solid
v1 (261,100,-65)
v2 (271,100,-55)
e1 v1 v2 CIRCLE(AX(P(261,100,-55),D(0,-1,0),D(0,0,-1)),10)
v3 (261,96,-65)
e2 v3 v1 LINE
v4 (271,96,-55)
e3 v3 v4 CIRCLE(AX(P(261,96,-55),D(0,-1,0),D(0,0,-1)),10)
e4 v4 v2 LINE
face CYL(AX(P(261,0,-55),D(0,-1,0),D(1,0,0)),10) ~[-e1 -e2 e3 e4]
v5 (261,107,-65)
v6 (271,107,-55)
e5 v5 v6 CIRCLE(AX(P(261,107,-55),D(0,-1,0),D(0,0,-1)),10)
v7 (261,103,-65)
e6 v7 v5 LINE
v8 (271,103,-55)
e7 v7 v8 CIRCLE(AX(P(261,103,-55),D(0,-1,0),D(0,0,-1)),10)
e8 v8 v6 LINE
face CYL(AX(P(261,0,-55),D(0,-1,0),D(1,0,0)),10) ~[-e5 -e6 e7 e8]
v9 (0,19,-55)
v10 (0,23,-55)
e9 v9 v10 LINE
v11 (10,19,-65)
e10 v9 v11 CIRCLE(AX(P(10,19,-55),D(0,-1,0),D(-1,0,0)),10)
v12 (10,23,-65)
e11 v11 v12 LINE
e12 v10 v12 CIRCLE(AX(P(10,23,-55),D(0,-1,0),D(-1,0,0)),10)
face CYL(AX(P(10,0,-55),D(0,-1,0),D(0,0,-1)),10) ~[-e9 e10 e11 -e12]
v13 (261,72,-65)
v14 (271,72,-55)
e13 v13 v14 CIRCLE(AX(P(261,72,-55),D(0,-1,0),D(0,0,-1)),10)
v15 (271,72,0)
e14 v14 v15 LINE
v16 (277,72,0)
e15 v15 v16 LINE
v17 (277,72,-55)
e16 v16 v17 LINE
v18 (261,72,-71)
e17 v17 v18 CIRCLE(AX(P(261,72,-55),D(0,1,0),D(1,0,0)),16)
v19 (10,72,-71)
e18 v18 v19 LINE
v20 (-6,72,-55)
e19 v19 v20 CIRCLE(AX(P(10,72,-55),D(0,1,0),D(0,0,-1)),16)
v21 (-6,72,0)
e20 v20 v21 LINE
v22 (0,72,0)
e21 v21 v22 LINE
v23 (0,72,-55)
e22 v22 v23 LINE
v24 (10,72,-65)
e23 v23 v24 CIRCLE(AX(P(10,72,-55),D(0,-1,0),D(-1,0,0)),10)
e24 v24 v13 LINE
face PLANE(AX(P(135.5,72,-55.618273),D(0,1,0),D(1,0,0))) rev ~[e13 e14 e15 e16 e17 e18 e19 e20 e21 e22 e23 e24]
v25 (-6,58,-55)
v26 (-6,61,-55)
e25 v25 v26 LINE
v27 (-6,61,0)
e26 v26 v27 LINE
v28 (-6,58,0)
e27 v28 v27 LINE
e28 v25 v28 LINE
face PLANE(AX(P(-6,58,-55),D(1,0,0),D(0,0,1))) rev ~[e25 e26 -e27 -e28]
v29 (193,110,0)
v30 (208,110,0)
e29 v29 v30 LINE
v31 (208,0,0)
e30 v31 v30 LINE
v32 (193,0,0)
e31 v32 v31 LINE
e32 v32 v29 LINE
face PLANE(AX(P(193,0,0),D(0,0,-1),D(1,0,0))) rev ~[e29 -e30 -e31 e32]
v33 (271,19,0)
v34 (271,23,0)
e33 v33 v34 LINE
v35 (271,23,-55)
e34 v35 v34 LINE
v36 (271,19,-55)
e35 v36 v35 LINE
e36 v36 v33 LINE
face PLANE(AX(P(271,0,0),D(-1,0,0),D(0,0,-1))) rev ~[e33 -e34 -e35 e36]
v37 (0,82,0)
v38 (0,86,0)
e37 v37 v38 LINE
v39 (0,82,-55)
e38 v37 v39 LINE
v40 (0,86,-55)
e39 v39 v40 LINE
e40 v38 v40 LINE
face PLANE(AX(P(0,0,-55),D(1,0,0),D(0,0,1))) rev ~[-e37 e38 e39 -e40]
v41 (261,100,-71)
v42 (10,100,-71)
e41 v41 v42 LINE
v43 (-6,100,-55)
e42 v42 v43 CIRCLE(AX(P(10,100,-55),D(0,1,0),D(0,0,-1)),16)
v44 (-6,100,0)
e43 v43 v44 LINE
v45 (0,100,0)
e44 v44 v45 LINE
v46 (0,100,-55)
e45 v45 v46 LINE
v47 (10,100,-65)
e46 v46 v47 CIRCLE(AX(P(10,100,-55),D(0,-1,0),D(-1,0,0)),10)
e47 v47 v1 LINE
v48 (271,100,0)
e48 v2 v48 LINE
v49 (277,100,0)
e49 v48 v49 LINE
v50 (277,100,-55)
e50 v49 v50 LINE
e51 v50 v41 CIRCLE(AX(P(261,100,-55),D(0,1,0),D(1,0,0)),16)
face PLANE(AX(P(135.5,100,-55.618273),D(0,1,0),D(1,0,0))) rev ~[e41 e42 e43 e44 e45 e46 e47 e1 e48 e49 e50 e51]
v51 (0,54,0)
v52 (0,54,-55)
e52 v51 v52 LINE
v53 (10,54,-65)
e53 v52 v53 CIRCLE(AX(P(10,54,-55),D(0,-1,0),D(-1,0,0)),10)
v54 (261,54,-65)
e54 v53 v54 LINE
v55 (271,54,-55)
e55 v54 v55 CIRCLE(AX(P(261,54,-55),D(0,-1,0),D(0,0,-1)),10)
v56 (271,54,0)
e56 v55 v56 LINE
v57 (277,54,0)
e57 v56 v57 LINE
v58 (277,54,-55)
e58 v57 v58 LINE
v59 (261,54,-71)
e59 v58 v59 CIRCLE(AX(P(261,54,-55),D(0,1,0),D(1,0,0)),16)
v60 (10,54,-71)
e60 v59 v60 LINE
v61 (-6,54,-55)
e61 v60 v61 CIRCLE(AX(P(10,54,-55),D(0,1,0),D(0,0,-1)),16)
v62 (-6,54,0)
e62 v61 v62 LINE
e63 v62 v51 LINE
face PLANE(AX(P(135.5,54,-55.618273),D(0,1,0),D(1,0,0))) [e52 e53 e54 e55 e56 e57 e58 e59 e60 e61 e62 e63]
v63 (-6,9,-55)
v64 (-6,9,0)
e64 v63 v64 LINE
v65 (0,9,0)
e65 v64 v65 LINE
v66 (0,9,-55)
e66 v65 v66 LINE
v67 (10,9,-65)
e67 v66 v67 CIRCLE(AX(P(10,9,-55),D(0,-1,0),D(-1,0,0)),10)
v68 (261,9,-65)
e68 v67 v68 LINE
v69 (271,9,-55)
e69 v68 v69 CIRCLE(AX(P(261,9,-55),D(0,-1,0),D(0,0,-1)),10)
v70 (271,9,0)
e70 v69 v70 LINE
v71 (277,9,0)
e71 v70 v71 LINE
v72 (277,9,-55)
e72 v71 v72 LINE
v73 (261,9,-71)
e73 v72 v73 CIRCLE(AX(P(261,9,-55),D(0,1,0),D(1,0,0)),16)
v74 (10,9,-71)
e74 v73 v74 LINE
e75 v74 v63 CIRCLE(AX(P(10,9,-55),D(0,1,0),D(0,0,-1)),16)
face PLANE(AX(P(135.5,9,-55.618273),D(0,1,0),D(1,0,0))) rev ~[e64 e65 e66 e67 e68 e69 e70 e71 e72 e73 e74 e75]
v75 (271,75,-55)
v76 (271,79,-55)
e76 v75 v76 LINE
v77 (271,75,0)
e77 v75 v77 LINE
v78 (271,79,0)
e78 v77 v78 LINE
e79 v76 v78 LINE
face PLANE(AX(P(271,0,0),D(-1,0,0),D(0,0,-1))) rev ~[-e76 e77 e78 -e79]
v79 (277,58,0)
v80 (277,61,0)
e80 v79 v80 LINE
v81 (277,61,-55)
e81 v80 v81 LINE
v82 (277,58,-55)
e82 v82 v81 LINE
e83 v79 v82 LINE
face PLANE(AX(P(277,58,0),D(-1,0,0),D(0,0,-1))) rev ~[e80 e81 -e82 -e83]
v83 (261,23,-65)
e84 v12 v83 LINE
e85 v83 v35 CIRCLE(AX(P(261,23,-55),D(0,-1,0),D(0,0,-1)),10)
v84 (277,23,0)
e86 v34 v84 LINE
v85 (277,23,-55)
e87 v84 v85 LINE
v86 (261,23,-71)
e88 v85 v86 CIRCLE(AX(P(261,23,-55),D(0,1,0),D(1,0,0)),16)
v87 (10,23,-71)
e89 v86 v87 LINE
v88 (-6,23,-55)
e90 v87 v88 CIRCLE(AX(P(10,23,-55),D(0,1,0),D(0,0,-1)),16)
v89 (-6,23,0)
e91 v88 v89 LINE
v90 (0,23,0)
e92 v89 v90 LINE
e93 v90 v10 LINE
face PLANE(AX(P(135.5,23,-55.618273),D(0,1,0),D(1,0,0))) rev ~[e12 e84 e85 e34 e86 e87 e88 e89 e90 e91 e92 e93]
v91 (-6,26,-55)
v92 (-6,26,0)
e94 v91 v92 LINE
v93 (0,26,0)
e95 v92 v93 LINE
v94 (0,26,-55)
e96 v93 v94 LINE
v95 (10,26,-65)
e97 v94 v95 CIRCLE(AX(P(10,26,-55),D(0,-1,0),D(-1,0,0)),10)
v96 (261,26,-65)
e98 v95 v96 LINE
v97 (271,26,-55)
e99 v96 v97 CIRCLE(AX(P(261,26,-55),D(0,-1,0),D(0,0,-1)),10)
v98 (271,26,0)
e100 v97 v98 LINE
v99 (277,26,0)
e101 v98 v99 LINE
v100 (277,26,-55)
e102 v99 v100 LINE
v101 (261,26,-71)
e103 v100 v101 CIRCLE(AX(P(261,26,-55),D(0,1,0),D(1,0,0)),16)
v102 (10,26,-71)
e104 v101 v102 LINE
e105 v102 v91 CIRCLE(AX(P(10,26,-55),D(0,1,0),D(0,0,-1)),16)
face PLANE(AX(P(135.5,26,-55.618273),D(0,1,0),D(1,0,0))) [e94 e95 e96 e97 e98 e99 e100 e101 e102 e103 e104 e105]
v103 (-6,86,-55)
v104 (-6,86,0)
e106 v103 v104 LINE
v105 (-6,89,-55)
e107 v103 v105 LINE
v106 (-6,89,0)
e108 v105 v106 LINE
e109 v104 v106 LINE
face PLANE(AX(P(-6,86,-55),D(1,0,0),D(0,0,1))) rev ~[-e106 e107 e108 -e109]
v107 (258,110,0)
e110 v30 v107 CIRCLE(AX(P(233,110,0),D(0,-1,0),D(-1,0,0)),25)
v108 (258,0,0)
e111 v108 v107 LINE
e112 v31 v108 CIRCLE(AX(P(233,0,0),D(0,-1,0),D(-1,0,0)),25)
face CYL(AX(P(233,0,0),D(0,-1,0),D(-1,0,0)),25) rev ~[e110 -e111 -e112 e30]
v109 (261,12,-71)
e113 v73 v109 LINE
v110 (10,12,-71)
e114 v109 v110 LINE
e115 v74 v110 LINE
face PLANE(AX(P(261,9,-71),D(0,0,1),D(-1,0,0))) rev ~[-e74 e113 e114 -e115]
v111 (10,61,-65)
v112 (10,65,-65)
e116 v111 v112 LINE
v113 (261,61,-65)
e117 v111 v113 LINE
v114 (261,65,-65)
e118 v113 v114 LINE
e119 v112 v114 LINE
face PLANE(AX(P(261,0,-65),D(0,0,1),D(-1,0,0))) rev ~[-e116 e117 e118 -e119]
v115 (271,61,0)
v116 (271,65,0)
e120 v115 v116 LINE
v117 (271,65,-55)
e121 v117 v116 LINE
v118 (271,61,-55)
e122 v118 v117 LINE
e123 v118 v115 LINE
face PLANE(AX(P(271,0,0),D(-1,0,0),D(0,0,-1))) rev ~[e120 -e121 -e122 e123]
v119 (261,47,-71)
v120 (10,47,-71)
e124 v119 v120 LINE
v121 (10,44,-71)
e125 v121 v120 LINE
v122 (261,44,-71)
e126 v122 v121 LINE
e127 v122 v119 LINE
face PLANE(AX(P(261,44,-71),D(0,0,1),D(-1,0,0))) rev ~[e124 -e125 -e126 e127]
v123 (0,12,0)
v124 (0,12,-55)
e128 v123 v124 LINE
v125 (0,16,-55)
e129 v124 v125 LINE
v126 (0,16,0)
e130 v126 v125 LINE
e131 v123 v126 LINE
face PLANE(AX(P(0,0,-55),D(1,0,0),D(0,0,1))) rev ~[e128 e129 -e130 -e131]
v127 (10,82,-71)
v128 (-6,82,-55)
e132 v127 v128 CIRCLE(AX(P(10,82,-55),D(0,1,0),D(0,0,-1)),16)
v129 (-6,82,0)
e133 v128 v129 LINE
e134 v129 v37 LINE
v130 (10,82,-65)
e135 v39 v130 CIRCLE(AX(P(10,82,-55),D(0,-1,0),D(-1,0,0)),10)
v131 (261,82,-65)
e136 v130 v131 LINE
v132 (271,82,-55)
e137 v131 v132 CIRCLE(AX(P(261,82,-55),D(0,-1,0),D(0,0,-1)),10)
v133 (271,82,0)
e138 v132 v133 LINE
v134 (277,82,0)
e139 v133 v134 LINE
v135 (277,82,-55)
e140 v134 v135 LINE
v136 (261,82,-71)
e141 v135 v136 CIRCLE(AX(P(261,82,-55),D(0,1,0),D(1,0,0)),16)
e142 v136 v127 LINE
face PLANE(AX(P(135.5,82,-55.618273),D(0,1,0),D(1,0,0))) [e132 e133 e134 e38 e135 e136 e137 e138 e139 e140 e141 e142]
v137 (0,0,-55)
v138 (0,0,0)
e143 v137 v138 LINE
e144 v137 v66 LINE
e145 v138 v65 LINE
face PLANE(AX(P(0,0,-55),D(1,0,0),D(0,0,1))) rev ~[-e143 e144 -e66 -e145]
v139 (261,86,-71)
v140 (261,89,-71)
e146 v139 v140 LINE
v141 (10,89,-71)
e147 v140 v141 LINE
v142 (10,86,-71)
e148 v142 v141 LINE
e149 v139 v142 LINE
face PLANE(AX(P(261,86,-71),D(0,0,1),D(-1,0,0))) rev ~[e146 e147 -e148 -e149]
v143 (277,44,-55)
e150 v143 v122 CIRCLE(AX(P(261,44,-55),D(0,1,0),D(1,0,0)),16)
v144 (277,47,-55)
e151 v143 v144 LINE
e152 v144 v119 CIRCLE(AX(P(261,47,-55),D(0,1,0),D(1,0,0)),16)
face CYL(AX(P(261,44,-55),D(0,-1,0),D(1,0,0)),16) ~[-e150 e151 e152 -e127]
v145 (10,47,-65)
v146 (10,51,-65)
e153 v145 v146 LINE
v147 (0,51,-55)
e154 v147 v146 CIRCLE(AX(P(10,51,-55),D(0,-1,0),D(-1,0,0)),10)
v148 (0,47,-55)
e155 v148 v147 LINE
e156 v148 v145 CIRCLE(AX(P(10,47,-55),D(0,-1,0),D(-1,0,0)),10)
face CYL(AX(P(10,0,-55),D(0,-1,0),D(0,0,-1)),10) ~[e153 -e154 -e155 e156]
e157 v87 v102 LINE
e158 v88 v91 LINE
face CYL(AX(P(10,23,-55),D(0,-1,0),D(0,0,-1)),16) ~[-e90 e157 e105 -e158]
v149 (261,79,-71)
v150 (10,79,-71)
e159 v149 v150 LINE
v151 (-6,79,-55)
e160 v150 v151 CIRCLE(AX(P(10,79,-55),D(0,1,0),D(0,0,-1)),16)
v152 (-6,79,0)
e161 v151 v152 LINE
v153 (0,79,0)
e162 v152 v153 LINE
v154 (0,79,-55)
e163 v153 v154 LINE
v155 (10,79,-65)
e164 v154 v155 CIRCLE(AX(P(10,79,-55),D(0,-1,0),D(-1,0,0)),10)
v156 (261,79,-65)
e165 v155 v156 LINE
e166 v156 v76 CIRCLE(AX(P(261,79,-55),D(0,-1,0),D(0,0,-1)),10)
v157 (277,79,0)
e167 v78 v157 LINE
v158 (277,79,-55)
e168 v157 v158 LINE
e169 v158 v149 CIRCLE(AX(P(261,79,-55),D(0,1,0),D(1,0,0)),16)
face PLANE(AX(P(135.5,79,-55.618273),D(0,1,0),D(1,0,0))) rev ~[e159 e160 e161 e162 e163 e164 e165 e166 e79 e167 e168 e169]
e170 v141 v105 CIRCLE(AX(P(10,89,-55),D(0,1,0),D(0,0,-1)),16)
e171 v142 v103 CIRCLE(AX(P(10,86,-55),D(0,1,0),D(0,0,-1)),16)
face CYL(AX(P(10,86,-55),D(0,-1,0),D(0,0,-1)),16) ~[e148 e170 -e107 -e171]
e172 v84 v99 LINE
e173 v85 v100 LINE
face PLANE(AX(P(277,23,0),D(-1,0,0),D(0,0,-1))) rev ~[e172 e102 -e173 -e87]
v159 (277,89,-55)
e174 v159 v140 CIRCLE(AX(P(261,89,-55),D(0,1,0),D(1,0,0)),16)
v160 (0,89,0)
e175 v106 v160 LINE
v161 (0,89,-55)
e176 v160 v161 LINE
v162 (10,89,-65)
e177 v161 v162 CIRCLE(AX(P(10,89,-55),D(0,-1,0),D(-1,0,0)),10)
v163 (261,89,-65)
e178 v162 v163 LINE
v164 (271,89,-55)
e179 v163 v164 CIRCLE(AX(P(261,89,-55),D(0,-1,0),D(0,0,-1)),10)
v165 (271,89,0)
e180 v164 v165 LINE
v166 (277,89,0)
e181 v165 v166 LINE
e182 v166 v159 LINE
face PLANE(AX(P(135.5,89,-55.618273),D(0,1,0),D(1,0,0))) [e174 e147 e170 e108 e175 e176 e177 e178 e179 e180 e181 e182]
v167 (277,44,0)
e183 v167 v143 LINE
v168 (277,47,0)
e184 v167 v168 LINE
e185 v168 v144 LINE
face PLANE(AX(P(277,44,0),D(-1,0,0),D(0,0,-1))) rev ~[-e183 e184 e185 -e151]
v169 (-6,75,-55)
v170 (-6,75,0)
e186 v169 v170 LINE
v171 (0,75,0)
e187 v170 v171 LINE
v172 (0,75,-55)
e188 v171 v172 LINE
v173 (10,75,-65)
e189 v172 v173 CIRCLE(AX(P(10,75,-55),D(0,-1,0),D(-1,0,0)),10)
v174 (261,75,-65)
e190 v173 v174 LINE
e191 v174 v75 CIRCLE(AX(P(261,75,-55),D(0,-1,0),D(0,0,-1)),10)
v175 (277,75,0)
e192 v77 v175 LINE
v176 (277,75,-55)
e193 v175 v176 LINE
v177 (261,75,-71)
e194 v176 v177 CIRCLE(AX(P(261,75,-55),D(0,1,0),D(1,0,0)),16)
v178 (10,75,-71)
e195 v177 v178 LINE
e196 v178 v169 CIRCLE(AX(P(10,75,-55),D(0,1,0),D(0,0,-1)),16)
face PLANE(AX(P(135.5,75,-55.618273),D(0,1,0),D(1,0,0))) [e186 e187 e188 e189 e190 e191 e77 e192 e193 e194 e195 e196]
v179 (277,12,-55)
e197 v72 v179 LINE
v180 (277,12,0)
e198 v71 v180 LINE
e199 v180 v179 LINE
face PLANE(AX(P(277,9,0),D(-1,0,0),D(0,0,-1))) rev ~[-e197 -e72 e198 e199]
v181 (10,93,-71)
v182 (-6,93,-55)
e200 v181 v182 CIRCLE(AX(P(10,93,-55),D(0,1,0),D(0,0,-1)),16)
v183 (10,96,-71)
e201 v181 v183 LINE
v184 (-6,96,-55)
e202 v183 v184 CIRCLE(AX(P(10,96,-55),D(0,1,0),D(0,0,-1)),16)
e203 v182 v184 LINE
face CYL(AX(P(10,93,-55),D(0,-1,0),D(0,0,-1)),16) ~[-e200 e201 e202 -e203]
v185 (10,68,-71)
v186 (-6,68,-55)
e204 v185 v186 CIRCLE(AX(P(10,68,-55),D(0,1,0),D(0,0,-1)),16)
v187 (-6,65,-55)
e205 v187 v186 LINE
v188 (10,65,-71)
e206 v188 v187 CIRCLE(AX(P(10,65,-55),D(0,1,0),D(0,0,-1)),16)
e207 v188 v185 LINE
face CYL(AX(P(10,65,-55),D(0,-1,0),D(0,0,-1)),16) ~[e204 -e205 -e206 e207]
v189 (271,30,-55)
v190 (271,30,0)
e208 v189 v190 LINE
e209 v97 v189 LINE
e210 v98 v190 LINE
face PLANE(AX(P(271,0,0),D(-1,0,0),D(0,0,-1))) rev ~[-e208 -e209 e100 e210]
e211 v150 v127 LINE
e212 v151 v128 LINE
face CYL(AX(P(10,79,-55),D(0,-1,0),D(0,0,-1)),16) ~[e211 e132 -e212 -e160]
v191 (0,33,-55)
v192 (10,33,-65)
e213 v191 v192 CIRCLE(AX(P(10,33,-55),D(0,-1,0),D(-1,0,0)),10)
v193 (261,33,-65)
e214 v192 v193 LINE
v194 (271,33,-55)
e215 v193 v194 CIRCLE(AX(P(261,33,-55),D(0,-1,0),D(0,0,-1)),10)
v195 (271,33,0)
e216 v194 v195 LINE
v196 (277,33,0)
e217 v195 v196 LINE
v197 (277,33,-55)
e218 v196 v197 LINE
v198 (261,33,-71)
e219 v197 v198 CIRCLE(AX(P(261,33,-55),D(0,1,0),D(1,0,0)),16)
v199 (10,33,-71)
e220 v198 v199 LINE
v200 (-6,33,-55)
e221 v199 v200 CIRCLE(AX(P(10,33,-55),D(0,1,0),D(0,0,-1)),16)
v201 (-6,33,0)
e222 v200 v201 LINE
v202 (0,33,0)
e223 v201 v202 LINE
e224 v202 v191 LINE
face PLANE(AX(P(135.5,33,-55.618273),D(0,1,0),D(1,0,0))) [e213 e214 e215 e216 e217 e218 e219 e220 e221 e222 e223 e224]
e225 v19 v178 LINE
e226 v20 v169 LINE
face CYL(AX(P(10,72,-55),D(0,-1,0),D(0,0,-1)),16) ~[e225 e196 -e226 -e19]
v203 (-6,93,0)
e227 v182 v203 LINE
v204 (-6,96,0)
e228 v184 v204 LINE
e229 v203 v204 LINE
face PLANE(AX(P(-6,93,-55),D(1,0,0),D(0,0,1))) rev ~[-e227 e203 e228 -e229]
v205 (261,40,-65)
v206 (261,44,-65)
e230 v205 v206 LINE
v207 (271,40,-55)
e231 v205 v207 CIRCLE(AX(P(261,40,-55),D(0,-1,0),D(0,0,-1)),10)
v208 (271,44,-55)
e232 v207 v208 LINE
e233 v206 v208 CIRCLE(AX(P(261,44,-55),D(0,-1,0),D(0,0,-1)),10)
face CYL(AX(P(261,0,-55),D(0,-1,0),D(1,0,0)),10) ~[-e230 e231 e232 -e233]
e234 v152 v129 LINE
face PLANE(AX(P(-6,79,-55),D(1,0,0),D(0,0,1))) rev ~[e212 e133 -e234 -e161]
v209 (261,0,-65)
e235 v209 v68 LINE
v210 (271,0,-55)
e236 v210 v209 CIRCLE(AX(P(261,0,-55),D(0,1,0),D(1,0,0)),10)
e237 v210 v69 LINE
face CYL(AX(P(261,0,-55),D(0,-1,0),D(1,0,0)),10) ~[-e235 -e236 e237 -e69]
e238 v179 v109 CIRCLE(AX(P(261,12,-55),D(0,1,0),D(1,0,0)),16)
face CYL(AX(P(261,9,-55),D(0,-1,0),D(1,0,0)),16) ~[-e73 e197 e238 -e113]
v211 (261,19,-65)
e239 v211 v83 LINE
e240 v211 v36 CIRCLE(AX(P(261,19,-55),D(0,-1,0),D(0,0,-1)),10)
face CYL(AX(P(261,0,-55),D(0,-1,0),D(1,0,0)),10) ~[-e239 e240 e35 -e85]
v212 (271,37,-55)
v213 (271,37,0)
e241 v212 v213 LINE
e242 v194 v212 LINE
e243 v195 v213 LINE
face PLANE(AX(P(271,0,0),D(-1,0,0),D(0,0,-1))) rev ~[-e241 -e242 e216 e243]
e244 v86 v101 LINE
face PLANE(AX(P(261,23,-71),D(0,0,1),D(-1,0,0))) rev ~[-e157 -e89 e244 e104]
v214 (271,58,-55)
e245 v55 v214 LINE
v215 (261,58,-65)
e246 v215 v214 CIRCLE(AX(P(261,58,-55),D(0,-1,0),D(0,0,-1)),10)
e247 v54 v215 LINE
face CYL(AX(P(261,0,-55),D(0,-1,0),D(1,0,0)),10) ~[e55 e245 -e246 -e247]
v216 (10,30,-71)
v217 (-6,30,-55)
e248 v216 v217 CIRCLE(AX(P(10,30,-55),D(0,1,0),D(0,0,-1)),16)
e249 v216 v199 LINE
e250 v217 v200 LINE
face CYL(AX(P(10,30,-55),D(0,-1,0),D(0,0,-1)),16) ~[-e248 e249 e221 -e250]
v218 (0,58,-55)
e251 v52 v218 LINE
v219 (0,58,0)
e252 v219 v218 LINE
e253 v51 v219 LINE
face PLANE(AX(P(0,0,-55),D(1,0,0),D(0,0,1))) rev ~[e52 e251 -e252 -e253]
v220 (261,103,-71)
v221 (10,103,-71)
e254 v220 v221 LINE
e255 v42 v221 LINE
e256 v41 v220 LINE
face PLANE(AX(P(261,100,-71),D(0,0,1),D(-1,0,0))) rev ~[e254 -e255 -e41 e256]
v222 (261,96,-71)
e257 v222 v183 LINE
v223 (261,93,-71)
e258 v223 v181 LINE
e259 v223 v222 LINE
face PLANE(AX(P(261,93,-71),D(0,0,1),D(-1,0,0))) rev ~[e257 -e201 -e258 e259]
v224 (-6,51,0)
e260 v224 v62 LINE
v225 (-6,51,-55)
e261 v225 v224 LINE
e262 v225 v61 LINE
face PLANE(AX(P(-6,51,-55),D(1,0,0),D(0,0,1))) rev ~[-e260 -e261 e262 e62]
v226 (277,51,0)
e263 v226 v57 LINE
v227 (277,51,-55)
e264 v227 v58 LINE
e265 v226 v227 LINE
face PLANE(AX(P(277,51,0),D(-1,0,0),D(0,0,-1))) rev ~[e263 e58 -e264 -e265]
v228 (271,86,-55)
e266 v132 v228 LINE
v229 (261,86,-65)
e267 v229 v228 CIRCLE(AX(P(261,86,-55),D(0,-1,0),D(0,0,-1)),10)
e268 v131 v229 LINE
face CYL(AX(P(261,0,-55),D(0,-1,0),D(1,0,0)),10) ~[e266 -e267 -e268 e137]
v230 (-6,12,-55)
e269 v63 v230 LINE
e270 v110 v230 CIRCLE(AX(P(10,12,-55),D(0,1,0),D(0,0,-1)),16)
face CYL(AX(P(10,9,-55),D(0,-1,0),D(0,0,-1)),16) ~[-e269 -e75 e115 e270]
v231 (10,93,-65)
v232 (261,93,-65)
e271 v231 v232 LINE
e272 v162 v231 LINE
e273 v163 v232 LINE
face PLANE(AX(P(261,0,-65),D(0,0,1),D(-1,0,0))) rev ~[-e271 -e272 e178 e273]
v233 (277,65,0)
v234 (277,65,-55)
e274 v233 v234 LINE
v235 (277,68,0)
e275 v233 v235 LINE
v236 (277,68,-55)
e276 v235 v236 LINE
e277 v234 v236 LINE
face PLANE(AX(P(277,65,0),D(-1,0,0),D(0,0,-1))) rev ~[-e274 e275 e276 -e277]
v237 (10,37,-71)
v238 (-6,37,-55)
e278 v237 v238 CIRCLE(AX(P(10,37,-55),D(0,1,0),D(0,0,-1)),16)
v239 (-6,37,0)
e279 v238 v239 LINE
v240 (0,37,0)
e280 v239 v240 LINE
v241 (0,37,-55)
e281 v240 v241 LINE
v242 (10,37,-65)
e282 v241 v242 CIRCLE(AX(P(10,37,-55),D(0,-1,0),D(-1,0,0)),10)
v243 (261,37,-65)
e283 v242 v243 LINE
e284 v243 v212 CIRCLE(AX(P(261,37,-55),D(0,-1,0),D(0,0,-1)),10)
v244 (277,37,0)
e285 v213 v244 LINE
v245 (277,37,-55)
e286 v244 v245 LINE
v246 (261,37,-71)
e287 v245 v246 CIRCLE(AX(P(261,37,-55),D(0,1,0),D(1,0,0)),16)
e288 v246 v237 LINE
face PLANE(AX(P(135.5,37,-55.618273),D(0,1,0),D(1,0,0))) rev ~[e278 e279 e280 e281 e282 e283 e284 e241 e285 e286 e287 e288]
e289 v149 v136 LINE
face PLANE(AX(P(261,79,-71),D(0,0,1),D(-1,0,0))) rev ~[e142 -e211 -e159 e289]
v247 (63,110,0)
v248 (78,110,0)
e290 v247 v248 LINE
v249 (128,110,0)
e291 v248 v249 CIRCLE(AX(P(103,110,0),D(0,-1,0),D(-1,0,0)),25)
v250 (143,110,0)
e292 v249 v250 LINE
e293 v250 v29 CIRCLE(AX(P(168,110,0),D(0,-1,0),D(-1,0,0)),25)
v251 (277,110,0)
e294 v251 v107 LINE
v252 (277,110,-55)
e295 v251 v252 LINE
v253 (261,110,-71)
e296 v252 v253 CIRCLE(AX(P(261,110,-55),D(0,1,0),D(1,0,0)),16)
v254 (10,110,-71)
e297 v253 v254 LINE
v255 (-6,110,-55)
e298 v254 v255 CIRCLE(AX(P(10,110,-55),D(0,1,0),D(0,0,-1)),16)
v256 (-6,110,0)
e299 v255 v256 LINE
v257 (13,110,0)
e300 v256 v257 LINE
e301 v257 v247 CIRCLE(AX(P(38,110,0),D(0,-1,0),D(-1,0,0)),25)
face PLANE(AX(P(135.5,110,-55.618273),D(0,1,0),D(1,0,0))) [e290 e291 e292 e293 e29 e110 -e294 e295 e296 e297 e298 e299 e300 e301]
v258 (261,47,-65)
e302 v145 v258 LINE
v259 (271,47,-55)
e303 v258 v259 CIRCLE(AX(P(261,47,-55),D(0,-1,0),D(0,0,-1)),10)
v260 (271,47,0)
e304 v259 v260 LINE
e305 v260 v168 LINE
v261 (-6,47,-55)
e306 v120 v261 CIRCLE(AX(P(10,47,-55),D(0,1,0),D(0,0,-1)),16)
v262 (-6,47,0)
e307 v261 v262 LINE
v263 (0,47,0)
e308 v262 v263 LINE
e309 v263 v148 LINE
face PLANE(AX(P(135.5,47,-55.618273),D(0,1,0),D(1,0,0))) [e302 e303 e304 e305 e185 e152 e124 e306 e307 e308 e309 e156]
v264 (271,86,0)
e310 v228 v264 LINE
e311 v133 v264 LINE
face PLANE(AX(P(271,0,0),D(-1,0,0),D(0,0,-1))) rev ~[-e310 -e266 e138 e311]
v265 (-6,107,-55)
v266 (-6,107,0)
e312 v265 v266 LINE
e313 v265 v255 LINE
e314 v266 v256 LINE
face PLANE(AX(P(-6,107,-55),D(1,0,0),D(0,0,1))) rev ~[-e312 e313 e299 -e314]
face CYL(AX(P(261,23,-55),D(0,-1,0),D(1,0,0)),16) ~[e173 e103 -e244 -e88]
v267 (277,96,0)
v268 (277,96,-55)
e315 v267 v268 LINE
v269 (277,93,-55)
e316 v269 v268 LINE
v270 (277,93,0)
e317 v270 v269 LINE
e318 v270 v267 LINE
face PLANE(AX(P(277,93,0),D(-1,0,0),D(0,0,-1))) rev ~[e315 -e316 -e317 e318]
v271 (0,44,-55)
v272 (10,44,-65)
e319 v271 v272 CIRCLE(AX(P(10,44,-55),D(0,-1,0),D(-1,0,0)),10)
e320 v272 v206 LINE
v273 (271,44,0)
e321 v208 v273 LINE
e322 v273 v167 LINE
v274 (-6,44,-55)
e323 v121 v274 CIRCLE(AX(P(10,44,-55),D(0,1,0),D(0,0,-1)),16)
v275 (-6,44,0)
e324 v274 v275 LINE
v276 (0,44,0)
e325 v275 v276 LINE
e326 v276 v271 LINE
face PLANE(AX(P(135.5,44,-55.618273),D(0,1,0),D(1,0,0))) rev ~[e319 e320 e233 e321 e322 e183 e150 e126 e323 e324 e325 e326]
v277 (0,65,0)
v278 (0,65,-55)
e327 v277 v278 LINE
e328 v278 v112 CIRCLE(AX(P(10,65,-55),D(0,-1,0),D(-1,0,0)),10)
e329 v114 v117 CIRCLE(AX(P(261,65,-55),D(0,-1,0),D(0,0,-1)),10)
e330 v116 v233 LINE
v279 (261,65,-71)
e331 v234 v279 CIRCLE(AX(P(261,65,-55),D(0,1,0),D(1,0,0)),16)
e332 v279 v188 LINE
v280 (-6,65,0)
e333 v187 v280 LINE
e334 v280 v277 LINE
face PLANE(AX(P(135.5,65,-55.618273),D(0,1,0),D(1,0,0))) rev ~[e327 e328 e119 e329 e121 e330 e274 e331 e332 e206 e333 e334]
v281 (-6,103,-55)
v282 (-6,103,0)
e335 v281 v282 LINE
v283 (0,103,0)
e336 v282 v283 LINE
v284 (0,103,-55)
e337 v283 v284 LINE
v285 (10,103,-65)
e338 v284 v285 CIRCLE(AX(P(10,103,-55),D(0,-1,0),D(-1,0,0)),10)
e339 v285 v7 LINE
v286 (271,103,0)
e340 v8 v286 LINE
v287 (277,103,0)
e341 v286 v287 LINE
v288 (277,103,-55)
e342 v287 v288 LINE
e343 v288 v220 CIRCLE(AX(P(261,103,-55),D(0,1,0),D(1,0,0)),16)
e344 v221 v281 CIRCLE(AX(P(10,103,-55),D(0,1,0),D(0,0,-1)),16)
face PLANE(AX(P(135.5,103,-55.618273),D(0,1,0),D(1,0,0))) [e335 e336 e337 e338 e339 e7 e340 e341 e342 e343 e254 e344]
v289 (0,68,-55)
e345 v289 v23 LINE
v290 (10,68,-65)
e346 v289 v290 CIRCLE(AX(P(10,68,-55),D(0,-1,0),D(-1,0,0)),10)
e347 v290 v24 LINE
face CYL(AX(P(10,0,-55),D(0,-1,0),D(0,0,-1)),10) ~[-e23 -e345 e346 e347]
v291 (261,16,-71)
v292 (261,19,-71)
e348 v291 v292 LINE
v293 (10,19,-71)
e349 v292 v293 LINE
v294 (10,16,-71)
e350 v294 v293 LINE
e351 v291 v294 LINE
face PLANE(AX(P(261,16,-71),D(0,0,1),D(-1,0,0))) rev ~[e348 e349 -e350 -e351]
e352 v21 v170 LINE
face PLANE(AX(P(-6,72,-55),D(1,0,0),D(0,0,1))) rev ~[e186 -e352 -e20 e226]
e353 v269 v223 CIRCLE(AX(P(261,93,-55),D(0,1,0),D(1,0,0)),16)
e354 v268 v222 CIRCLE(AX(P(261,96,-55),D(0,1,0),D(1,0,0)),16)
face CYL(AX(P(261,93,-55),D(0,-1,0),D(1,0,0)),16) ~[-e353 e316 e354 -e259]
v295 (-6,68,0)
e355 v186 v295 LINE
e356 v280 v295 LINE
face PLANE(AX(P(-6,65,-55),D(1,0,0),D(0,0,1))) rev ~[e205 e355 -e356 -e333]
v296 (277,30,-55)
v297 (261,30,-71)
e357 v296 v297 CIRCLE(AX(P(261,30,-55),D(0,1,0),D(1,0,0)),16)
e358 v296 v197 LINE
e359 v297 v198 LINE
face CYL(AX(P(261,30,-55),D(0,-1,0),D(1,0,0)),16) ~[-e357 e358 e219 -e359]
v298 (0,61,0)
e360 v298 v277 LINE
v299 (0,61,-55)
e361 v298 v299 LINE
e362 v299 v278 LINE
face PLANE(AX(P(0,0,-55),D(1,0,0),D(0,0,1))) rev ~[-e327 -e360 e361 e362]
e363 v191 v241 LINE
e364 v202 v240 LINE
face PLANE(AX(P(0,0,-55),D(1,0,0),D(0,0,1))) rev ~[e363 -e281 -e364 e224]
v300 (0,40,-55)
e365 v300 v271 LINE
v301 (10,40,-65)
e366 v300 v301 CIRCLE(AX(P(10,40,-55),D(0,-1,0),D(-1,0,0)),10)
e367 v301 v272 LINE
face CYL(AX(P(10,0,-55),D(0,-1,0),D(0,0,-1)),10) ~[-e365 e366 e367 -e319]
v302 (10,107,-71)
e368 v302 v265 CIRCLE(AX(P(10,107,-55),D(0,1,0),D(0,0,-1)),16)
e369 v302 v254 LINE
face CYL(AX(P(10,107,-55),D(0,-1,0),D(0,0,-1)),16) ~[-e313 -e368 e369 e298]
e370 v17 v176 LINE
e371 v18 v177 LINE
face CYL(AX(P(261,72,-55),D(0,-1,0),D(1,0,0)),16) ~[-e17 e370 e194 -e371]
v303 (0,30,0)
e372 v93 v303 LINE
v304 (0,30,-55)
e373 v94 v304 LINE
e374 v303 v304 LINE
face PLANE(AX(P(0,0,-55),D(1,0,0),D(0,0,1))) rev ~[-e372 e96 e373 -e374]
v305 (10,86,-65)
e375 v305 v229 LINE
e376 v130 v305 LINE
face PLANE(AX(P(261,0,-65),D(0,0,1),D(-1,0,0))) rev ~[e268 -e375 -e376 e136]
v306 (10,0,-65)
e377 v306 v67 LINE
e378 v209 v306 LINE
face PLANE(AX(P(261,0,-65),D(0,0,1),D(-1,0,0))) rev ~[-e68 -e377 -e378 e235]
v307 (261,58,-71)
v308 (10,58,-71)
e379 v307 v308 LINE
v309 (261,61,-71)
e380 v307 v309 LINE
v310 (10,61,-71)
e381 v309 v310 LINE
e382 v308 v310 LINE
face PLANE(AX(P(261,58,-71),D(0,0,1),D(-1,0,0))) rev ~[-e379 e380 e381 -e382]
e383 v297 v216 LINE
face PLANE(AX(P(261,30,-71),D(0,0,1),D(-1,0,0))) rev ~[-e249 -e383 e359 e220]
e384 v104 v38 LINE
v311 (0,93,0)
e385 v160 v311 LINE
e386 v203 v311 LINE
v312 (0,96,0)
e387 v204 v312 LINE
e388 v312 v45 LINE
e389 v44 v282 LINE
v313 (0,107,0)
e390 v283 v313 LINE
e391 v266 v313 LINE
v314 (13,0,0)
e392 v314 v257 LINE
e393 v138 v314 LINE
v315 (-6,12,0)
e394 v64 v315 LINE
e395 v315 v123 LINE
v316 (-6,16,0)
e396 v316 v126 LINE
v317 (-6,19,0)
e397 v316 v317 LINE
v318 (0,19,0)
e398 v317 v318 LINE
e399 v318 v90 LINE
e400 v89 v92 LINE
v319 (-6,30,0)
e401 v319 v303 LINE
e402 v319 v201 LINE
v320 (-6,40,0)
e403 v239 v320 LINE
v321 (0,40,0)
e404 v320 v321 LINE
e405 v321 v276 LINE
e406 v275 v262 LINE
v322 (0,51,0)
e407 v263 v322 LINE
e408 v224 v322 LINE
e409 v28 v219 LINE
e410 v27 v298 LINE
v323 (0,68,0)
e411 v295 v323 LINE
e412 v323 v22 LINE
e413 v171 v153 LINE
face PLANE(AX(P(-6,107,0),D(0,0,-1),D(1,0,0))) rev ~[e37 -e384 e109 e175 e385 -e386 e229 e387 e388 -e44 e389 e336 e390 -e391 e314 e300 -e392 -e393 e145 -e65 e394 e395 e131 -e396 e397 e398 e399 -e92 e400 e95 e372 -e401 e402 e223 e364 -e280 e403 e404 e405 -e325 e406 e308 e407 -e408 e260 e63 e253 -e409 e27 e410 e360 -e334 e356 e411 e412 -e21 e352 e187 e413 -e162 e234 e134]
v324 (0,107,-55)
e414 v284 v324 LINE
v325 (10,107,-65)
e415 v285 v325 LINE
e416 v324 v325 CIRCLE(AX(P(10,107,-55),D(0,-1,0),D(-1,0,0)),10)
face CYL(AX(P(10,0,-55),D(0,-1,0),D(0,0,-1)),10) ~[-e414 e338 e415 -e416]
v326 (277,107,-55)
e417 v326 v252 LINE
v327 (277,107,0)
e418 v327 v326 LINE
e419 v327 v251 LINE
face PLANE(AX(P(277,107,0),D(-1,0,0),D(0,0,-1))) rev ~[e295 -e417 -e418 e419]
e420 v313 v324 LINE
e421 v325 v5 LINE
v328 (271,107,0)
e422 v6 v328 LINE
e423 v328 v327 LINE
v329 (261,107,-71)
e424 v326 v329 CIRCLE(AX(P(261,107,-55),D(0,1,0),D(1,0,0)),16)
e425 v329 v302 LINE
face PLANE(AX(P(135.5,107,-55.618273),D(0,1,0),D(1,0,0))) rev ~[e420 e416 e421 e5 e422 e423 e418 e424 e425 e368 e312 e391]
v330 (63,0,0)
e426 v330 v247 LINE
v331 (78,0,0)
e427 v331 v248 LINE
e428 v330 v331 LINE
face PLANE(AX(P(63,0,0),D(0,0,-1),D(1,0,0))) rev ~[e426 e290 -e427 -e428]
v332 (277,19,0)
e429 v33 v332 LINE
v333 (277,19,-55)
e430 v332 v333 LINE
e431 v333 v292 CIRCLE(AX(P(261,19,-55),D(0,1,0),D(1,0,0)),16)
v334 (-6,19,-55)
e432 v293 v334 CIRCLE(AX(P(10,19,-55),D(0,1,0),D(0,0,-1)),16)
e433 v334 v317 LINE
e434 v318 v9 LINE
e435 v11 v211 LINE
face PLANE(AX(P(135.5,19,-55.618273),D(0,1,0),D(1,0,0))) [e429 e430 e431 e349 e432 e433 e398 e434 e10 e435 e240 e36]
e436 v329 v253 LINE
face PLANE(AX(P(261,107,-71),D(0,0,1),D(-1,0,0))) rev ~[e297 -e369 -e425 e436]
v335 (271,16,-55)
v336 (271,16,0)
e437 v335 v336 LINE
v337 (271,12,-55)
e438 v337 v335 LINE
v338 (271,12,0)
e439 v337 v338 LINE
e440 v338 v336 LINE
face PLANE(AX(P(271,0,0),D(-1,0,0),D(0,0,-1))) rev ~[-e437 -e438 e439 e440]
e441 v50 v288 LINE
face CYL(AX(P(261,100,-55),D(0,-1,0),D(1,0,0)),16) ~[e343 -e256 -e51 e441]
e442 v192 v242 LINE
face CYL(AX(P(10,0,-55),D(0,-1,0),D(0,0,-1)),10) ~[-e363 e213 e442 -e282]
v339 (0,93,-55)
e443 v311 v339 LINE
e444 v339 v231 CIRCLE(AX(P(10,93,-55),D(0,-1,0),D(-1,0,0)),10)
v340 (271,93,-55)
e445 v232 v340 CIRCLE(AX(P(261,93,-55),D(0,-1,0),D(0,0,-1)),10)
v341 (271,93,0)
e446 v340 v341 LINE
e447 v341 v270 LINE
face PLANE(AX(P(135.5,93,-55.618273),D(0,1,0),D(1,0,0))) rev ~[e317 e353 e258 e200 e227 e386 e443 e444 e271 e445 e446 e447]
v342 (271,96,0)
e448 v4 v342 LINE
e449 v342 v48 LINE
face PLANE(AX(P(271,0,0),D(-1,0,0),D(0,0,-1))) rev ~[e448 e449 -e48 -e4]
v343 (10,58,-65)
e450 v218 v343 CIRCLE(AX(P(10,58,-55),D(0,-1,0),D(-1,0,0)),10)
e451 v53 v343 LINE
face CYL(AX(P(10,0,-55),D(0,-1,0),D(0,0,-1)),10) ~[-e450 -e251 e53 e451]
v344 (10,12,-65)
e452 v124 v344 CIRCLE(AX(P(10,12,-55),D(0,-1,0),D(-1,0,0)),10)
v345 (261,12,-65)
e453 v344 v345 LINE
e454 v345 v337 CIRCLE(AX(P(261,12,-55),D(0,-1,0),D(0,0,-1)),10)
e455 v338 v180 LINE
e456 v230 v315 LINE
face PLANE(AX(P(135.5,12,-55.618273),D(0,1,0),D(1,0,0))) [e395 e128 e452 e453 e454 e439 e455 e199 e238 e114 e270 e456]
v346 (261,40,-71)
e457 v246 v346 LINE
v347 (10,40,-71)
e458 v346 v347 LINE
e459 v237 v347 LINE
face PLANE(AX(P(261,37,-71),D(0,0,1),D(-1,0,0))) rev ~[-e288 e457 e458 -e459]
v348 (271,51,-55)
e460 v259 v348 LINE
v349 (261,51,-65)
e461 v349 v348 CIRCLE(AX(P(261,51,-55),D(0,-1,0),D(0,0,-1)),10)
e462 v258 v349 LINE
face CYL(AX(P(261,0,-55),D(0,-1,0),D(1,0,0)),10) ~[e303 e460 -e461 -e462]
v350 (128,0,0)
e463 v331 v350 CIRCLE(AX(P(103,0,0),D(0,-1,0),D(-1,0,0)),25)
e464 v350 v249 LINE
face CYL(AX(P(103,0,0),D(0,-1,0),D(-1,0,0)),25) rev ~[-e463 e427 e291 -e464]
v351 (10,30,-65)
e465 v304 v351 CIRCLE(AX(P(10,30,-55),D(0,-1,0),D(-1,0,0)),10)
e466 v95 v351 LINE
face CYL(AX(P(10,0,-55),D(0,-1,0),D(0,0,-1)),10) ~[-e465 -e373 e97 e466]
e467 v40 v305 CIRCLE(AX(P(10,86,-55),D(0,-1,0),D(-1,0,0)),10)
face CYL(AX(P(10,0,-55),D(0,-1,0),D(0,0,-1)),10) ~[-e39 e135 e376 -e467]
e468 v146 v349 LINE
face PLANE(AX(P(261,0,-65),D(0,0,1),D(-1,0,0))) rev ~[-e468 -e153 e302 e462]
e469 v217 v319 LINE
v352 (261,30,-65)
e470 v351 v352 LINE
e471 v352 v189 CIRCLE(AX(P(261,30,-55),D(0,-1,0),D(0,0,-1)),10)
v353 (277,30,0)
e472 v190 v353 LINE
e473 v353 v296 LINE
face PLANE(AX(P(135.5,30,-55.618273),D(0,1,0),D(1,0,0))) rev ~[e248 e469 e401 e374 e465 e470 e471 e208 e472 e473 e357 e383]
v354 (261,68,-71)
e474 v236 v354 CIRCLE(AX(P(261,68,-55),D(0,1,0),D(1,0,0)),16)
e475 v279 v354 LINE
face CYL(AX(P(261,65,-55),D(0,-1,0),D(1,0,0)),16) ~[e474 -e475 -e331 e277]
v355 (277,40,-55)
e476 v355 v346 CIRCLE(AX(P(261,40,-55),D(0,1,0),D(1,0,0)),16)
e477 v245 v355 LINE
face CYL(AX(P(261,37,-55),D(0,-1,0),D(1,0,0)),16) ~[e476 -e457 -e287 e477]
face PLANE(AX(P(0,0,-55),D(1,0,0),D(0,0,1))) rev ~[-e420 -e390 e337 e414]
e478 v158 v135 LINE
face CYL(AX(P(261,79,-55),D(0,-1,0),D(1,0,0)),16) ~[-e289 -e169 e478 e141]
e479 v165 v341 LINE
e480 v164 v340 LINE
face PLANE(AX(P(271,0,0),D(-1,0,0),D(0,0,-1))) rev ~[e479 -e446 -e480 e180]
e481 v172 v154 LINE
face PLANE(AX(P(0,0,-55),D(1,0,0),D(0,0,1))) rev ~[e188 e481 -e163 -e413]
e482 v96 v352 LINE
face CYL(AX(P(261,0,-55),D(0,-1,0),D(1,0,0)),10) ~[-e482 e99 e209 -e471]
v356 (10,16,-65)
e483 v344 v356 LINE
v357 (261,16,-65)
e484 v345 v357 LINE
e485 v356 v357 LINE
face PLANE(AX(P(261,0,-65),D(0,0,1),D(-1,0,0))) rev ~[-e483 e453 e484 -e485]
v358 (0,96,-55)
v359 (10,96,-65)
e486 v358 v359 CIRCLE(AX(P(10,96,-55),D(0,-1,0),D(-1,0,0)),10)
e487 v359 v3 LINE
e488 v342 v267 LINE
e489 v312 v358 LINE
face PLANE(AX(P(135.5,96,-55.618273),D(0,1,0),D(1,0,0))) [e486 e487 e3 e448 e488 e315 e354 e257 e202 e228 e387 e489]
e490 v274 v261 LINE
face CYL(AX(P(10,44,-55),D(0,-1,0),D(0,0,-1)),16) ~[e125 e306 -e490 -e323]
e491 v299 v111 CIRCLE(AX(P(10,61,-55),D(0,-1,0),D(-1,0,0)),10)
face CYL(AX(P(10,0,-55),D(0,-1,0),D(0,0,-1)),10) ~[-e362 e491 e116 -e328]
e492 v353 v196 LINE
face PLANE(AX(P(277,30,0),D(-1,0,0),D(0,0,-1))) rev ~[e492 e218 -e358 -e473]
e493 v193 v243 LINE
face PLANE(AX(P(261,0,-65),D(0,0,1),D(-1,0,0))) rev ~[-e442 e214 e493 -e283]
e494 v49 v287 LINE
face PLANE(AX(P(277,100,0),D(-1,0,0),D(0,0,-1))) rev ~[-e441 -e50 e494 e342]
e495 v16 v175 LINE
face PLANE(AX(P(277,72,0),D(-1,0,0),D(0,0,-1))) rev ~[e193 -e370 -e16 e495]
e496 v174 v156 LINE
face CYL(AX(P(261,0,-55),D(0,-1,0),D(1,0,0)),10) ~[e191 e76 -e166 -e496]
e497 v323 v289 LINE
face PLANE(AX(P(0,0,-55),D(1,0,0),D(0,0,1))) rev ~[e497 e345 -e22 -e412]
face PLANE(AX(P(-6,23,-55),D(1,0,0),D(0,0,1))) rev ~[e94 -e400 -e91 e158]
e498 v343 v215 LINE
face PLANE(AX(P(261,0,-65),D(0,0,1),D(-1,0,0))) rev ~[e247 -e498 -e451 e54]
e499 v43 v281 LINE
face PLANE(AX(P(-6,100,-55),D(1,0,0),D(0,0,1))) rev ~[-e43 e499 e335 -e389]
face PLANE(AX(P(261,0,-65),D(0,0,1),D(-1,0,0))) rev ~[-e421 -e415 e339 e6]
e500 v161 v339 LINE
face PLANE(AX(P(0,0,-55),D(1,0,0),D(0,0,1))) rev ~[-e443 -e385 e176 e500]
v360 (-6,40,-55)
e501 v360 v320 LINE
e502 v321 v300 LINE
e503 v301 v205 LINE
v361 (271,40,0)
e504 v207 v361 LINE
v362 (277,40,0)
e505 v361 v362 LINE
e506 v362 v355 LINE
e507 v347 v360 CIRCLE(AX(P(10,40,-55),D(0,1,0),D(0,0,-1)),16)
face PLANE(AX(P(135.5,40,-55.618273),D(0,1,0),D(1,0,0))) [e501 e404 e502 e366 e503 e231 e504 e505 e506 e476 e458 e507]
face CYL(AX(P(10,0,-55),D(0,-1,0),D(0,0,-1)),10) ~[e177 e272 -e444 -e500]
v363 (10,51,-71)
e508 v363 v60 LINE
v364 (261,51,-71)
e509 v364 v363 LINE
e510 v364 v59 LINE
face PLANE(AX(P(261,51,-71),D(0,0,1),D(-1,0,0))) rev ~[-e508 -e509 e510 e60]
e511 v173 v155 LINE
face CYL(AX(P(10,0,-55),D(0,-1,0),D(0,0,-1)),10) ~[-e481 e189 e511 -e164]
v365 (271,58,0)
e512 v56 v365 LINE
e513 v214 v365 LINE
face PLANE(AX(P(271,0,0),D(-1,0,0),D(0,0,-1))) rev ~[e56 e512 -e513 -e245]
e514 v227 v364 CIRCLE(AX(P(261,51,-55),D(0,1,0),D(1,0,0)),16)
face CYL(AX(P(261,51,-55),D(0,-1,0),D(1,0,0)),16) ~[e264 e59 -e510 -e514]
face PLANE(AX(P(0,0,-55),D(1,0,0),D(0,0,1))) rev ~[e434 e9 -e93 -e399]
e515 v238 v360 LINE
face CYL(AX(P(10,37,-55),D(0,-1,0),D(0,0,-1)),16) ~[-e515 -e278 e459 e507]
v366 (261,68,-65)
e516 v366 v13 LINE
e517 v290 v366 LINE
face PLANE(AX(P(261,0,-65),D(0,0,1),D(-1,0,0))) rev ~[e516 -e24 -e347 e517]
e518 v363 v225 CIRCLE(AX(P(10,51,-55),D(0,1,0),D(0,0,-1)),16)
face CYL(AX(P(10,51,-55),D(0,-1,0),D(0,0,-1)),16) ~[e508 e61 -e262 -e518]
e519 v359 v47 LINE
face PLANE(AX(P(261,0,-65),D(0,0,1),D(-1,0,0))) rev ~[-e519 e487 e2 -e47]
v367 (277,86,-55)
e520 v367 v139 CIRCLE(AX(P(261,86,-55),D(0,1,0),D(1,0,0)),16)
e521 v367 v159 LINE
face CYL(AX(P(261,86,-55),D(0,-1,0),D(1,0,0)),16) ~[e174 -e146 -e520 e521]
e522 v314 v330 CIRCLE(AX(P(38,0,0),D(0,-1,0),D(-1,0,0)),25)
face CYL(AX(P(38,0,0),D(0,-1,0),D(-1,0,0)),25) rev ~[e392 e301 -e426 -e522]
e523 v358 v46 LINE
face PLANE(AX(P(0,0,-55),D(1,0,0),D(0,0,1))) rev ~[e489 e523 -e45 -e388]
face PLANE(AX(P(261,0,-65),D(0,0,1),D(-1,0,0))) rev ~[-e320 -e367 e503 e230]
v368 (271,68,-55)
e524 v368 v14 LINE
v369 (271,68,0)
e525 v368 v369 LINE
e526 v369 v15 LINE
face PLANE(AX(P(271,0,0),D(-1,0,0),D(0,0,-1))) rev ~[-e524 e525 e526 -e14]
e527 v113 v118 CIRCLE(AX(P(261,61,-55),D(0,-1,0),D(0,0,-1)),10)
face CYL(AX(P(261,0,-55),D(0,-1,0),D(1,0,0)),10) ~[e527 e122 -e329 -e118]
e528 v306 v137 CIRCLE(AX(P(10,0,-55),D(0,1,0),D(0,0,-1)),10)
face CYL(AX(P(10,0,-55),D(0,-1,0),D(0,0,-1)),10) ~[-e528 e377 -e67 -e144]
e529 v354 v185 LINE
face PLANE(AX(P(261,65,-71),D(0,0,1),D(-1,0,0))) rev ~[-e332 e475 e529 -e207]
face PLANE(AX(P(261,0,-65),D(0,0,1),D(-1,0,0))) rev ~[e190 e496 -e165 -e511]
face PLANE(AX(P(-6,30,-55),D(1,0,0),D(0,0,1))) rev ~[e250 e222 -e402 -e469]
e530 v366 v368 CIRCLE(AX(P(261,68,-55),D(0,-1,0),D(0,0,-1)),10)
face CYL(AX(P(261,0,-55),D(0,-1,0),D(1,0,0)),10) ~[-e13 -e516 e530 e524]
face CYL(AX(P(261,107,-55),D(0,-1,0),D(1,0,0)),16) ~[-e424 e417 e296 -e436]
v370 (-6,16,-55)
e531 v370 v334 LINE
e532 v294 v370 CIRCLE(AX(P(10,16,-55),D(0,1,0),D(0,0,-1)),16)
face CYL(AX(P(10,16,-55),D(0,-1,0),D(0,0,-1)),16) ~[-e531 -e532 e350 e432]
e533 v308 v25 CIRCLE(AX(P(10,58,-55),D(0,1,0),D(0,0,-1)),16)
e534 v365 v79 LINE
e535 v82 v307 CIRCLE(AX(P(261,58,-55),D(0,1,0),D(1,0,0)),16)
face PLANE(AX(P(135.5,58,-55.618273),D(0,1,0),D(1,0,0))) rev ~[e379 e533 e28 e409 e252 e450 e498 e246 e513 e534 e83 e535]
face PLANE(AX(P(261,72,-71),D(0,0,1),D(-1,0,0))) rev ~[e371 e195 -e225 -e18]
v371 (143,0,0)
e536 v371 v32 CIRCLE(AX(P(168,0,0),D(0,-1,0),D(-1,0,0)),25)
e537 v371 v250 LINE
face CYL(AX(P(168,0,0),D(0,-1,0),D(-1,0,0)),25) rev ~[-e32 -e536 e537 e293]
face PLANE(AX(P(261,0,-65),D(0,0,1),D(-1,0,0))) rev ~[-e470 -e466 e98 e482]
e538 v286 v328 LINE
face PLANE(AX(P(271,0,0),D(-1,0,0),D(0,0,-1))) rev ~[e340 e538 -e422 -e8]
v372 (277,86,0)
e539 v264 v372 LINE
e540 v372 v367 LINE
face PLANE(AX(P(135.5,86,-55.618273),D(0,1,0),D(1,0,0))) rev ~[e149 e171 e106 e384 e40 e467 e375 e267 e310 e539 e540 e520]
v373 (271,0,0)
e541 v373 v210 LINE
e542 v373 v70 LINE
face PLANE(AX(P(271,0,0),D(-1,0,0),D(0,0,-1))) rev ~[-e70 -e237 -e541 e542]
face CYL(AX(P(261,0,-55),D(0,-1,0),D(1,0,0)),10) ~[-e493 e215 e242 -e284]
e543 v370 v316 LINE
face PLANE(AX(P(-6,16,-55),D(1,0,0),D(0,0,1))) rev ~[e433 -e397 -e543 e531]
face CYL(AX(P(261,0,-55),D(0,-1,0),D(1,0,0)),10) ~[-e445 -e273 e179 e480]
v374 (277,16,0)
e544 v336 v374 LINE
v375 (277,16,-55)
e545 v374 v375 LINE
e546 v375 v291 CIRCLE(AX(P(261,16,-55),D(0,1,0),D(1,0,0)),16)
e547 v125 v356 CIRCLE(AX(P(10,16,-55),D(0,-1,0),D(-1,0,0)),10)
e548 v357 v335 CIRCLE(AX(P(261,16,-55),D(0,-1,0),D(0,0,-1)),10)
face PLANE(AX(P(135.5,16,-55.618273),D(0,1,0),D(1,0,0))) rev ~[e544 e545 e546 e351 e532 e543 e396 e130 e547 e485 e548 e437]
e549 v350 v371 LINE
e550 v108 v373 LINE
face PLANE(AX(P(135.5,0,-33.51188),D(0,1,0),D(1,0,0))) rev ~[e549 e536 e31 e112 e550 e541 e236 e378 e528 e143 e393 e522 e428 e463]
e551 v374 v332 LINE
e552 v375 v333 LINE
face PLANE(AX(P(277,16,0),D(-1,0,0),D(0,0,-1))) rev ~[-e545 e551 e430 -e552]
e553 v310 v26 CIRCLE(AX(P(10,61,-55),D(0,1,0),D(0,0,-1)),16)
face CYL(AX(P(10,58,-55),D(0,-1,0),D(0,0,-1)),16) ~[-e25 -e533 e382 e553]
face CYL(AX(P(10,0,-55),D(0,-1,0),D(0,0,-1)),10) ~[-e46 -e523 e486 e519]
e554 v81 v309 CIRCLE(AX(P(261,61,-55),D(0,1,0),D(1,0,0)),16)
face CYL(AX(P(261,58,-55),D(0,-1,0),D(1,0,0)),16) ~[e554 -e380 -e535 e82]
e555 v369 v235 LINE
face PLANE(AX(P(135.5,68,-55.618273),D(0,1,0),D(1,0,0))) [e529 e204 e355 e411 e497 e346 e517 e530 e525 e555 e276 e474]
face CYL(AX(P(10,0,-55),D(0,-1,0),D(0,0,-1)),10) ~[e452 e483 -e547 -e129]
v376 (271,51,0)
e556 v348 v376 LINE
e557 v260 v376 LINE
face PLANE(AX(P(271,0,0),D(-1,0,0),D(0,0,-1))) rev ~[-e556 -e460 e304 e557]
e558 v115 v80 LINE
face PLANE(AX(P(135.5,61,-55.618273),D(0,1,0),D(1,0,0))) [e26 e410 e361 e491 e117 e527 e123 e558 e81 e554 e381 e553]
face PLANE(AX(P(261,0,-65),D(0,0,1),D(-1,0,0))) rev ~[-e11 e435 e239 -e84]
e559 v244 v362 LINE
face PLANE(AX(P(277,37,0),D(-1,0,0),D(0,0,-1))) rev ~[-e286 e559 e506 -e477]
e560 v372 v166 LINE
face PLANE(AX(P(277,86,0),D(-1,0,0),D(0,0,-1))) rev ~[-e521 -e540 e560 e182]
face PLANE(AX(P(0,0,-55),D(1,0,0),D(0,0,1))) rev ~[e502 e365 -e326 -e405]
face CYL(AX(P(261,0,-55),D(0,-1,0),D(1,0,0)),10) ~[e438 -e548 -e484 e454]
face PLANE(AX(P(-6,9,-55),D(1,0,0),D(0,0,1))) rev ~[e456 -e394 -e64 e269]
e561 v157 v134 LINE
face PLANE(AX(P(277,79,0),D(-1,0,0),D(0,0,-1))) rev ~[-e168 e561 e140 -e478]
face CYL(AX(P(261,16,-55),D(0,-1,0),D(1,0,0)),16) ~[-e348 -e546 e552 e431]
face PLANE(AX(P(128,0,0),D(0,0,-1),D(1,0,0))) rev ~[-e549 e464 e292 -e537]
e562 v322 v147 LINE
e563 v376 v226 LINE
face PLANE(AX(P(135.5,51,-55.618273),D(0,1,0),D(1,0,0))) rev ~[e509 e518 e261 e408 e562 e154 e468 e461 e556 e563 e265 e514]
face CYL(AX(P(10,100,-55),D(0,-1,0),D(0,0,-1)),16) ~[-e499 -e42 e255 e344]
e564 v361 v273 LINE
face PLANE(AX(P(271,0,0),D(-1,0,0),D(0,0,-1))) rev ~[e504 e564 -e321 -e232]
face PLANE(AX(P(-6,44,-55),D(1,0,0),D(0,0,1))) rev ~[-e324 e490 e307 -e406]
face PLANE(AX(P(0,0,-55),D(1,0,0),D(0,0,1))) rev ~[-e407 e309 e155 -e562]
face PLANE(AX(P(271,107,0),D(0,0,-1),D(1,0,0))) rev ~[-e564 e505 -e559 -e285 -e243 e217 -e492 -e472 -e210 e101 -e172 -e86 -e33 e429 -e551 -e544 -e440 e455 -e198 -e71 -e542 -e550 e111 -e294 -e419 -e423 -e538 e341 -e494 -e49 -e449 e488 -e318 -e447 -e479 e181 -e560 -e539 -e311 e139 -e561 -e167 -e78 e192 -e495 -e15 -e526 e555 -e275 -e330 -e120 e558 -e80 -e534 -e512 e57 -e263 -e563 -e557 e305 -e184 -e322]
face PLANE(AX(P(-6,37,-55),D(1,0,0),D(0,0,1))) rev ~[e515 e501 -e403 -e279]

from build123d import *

# Parameters (mm, degrees)
BOSS_EXTRUDE1_DEPTH = 110
BOSS_EXTRUDE2_START = -3
BOSS_EXTRUDE2_DEPTH = 3
LPATTERN1_COUNT     = 15
LPATTERN1_PITCH     = 7


with BuildPart() as part:
    # Sketch1 → Boss-Extrude1 (new body)
    with BuildSketch(Plane(origin=(0, 0, 0), x_dir=(1, 0, 0), z_dir=(0, 1, 0))):
        with BuildLine():
            Line((0, 0), (13, 0))
            ThreePointArc((13, 0), (38, 25), (63, 0))
            Line((63, 0), (78, 0))
            ThreePointArc((78, 0), (103, 25), (128, 0))
            Line((128, 0), (143, 0))
            ThreePointArc((143, 0), (168, 25), (193, 0))
            Line((193, 0), (208, 0))
            ThreePointArc((208, 0), (233, 25), (258, 0))
            Line((258, 0), (271, 0))
            Line((271, 0), (271, 55))
            ThreePointArc((271, 55), (268.071067812, 62.071067812), (261, 65))
            Line((261, 65), (10, 65))
            ThreePointArc((10, 65), (2.928932188, 62.071067812), (0, 55))
            Line((0, 55), (0, 0))
        make_face()
    extrude(amount=BOSS_EXTRUDE1_DEPTH)

    # Sketch3 → Boss-Extrude2 (add)
    with BuildSketch(Plane(origin=(0, 110, 0), x_dir=(1, 0, 0), z_dir=(0, 1, 0)).offset(BOSS_EXTRUDE2_START)):
        with BuildLine():
            Line((277, 0), (277, 55))
            ThreePointArc((277, 55), (272.313708499, 66.313708499), (261, 71))
            Line((261, 71), (10, 71))
            ThreePointArc((10, 71), (-1.313708499, 66.313708499), (-6, 55))
            Line((-6, 55), (-6, 0))
            Line((-6, 0), (0, 0))
            Line((0, 0), (0, 55))
            ThreePointArc((0, 55), (2.928932188, 62.071067812), (10, 65))
            Line((10, 65), (261, 65))
            ThreePointArc((261, 65), (268.071067812, 62.071067812), (271, 55))
            Line((271, 55), (271, 0))
            Line((271, 0), (277, 0))
        make_face()
    boss_extrude2 = extrude(amount=BOSS_EXTRUDE2_DEPTH)

    # LPattern1: Boss-Extrude2 ×15
    with Locations(*[(0, -i * LPATTERN1_PITCH, 0) for i in range(1, LPATTERN1_COUNT)]):
        add(boss_extrude2)


solid = part.part
